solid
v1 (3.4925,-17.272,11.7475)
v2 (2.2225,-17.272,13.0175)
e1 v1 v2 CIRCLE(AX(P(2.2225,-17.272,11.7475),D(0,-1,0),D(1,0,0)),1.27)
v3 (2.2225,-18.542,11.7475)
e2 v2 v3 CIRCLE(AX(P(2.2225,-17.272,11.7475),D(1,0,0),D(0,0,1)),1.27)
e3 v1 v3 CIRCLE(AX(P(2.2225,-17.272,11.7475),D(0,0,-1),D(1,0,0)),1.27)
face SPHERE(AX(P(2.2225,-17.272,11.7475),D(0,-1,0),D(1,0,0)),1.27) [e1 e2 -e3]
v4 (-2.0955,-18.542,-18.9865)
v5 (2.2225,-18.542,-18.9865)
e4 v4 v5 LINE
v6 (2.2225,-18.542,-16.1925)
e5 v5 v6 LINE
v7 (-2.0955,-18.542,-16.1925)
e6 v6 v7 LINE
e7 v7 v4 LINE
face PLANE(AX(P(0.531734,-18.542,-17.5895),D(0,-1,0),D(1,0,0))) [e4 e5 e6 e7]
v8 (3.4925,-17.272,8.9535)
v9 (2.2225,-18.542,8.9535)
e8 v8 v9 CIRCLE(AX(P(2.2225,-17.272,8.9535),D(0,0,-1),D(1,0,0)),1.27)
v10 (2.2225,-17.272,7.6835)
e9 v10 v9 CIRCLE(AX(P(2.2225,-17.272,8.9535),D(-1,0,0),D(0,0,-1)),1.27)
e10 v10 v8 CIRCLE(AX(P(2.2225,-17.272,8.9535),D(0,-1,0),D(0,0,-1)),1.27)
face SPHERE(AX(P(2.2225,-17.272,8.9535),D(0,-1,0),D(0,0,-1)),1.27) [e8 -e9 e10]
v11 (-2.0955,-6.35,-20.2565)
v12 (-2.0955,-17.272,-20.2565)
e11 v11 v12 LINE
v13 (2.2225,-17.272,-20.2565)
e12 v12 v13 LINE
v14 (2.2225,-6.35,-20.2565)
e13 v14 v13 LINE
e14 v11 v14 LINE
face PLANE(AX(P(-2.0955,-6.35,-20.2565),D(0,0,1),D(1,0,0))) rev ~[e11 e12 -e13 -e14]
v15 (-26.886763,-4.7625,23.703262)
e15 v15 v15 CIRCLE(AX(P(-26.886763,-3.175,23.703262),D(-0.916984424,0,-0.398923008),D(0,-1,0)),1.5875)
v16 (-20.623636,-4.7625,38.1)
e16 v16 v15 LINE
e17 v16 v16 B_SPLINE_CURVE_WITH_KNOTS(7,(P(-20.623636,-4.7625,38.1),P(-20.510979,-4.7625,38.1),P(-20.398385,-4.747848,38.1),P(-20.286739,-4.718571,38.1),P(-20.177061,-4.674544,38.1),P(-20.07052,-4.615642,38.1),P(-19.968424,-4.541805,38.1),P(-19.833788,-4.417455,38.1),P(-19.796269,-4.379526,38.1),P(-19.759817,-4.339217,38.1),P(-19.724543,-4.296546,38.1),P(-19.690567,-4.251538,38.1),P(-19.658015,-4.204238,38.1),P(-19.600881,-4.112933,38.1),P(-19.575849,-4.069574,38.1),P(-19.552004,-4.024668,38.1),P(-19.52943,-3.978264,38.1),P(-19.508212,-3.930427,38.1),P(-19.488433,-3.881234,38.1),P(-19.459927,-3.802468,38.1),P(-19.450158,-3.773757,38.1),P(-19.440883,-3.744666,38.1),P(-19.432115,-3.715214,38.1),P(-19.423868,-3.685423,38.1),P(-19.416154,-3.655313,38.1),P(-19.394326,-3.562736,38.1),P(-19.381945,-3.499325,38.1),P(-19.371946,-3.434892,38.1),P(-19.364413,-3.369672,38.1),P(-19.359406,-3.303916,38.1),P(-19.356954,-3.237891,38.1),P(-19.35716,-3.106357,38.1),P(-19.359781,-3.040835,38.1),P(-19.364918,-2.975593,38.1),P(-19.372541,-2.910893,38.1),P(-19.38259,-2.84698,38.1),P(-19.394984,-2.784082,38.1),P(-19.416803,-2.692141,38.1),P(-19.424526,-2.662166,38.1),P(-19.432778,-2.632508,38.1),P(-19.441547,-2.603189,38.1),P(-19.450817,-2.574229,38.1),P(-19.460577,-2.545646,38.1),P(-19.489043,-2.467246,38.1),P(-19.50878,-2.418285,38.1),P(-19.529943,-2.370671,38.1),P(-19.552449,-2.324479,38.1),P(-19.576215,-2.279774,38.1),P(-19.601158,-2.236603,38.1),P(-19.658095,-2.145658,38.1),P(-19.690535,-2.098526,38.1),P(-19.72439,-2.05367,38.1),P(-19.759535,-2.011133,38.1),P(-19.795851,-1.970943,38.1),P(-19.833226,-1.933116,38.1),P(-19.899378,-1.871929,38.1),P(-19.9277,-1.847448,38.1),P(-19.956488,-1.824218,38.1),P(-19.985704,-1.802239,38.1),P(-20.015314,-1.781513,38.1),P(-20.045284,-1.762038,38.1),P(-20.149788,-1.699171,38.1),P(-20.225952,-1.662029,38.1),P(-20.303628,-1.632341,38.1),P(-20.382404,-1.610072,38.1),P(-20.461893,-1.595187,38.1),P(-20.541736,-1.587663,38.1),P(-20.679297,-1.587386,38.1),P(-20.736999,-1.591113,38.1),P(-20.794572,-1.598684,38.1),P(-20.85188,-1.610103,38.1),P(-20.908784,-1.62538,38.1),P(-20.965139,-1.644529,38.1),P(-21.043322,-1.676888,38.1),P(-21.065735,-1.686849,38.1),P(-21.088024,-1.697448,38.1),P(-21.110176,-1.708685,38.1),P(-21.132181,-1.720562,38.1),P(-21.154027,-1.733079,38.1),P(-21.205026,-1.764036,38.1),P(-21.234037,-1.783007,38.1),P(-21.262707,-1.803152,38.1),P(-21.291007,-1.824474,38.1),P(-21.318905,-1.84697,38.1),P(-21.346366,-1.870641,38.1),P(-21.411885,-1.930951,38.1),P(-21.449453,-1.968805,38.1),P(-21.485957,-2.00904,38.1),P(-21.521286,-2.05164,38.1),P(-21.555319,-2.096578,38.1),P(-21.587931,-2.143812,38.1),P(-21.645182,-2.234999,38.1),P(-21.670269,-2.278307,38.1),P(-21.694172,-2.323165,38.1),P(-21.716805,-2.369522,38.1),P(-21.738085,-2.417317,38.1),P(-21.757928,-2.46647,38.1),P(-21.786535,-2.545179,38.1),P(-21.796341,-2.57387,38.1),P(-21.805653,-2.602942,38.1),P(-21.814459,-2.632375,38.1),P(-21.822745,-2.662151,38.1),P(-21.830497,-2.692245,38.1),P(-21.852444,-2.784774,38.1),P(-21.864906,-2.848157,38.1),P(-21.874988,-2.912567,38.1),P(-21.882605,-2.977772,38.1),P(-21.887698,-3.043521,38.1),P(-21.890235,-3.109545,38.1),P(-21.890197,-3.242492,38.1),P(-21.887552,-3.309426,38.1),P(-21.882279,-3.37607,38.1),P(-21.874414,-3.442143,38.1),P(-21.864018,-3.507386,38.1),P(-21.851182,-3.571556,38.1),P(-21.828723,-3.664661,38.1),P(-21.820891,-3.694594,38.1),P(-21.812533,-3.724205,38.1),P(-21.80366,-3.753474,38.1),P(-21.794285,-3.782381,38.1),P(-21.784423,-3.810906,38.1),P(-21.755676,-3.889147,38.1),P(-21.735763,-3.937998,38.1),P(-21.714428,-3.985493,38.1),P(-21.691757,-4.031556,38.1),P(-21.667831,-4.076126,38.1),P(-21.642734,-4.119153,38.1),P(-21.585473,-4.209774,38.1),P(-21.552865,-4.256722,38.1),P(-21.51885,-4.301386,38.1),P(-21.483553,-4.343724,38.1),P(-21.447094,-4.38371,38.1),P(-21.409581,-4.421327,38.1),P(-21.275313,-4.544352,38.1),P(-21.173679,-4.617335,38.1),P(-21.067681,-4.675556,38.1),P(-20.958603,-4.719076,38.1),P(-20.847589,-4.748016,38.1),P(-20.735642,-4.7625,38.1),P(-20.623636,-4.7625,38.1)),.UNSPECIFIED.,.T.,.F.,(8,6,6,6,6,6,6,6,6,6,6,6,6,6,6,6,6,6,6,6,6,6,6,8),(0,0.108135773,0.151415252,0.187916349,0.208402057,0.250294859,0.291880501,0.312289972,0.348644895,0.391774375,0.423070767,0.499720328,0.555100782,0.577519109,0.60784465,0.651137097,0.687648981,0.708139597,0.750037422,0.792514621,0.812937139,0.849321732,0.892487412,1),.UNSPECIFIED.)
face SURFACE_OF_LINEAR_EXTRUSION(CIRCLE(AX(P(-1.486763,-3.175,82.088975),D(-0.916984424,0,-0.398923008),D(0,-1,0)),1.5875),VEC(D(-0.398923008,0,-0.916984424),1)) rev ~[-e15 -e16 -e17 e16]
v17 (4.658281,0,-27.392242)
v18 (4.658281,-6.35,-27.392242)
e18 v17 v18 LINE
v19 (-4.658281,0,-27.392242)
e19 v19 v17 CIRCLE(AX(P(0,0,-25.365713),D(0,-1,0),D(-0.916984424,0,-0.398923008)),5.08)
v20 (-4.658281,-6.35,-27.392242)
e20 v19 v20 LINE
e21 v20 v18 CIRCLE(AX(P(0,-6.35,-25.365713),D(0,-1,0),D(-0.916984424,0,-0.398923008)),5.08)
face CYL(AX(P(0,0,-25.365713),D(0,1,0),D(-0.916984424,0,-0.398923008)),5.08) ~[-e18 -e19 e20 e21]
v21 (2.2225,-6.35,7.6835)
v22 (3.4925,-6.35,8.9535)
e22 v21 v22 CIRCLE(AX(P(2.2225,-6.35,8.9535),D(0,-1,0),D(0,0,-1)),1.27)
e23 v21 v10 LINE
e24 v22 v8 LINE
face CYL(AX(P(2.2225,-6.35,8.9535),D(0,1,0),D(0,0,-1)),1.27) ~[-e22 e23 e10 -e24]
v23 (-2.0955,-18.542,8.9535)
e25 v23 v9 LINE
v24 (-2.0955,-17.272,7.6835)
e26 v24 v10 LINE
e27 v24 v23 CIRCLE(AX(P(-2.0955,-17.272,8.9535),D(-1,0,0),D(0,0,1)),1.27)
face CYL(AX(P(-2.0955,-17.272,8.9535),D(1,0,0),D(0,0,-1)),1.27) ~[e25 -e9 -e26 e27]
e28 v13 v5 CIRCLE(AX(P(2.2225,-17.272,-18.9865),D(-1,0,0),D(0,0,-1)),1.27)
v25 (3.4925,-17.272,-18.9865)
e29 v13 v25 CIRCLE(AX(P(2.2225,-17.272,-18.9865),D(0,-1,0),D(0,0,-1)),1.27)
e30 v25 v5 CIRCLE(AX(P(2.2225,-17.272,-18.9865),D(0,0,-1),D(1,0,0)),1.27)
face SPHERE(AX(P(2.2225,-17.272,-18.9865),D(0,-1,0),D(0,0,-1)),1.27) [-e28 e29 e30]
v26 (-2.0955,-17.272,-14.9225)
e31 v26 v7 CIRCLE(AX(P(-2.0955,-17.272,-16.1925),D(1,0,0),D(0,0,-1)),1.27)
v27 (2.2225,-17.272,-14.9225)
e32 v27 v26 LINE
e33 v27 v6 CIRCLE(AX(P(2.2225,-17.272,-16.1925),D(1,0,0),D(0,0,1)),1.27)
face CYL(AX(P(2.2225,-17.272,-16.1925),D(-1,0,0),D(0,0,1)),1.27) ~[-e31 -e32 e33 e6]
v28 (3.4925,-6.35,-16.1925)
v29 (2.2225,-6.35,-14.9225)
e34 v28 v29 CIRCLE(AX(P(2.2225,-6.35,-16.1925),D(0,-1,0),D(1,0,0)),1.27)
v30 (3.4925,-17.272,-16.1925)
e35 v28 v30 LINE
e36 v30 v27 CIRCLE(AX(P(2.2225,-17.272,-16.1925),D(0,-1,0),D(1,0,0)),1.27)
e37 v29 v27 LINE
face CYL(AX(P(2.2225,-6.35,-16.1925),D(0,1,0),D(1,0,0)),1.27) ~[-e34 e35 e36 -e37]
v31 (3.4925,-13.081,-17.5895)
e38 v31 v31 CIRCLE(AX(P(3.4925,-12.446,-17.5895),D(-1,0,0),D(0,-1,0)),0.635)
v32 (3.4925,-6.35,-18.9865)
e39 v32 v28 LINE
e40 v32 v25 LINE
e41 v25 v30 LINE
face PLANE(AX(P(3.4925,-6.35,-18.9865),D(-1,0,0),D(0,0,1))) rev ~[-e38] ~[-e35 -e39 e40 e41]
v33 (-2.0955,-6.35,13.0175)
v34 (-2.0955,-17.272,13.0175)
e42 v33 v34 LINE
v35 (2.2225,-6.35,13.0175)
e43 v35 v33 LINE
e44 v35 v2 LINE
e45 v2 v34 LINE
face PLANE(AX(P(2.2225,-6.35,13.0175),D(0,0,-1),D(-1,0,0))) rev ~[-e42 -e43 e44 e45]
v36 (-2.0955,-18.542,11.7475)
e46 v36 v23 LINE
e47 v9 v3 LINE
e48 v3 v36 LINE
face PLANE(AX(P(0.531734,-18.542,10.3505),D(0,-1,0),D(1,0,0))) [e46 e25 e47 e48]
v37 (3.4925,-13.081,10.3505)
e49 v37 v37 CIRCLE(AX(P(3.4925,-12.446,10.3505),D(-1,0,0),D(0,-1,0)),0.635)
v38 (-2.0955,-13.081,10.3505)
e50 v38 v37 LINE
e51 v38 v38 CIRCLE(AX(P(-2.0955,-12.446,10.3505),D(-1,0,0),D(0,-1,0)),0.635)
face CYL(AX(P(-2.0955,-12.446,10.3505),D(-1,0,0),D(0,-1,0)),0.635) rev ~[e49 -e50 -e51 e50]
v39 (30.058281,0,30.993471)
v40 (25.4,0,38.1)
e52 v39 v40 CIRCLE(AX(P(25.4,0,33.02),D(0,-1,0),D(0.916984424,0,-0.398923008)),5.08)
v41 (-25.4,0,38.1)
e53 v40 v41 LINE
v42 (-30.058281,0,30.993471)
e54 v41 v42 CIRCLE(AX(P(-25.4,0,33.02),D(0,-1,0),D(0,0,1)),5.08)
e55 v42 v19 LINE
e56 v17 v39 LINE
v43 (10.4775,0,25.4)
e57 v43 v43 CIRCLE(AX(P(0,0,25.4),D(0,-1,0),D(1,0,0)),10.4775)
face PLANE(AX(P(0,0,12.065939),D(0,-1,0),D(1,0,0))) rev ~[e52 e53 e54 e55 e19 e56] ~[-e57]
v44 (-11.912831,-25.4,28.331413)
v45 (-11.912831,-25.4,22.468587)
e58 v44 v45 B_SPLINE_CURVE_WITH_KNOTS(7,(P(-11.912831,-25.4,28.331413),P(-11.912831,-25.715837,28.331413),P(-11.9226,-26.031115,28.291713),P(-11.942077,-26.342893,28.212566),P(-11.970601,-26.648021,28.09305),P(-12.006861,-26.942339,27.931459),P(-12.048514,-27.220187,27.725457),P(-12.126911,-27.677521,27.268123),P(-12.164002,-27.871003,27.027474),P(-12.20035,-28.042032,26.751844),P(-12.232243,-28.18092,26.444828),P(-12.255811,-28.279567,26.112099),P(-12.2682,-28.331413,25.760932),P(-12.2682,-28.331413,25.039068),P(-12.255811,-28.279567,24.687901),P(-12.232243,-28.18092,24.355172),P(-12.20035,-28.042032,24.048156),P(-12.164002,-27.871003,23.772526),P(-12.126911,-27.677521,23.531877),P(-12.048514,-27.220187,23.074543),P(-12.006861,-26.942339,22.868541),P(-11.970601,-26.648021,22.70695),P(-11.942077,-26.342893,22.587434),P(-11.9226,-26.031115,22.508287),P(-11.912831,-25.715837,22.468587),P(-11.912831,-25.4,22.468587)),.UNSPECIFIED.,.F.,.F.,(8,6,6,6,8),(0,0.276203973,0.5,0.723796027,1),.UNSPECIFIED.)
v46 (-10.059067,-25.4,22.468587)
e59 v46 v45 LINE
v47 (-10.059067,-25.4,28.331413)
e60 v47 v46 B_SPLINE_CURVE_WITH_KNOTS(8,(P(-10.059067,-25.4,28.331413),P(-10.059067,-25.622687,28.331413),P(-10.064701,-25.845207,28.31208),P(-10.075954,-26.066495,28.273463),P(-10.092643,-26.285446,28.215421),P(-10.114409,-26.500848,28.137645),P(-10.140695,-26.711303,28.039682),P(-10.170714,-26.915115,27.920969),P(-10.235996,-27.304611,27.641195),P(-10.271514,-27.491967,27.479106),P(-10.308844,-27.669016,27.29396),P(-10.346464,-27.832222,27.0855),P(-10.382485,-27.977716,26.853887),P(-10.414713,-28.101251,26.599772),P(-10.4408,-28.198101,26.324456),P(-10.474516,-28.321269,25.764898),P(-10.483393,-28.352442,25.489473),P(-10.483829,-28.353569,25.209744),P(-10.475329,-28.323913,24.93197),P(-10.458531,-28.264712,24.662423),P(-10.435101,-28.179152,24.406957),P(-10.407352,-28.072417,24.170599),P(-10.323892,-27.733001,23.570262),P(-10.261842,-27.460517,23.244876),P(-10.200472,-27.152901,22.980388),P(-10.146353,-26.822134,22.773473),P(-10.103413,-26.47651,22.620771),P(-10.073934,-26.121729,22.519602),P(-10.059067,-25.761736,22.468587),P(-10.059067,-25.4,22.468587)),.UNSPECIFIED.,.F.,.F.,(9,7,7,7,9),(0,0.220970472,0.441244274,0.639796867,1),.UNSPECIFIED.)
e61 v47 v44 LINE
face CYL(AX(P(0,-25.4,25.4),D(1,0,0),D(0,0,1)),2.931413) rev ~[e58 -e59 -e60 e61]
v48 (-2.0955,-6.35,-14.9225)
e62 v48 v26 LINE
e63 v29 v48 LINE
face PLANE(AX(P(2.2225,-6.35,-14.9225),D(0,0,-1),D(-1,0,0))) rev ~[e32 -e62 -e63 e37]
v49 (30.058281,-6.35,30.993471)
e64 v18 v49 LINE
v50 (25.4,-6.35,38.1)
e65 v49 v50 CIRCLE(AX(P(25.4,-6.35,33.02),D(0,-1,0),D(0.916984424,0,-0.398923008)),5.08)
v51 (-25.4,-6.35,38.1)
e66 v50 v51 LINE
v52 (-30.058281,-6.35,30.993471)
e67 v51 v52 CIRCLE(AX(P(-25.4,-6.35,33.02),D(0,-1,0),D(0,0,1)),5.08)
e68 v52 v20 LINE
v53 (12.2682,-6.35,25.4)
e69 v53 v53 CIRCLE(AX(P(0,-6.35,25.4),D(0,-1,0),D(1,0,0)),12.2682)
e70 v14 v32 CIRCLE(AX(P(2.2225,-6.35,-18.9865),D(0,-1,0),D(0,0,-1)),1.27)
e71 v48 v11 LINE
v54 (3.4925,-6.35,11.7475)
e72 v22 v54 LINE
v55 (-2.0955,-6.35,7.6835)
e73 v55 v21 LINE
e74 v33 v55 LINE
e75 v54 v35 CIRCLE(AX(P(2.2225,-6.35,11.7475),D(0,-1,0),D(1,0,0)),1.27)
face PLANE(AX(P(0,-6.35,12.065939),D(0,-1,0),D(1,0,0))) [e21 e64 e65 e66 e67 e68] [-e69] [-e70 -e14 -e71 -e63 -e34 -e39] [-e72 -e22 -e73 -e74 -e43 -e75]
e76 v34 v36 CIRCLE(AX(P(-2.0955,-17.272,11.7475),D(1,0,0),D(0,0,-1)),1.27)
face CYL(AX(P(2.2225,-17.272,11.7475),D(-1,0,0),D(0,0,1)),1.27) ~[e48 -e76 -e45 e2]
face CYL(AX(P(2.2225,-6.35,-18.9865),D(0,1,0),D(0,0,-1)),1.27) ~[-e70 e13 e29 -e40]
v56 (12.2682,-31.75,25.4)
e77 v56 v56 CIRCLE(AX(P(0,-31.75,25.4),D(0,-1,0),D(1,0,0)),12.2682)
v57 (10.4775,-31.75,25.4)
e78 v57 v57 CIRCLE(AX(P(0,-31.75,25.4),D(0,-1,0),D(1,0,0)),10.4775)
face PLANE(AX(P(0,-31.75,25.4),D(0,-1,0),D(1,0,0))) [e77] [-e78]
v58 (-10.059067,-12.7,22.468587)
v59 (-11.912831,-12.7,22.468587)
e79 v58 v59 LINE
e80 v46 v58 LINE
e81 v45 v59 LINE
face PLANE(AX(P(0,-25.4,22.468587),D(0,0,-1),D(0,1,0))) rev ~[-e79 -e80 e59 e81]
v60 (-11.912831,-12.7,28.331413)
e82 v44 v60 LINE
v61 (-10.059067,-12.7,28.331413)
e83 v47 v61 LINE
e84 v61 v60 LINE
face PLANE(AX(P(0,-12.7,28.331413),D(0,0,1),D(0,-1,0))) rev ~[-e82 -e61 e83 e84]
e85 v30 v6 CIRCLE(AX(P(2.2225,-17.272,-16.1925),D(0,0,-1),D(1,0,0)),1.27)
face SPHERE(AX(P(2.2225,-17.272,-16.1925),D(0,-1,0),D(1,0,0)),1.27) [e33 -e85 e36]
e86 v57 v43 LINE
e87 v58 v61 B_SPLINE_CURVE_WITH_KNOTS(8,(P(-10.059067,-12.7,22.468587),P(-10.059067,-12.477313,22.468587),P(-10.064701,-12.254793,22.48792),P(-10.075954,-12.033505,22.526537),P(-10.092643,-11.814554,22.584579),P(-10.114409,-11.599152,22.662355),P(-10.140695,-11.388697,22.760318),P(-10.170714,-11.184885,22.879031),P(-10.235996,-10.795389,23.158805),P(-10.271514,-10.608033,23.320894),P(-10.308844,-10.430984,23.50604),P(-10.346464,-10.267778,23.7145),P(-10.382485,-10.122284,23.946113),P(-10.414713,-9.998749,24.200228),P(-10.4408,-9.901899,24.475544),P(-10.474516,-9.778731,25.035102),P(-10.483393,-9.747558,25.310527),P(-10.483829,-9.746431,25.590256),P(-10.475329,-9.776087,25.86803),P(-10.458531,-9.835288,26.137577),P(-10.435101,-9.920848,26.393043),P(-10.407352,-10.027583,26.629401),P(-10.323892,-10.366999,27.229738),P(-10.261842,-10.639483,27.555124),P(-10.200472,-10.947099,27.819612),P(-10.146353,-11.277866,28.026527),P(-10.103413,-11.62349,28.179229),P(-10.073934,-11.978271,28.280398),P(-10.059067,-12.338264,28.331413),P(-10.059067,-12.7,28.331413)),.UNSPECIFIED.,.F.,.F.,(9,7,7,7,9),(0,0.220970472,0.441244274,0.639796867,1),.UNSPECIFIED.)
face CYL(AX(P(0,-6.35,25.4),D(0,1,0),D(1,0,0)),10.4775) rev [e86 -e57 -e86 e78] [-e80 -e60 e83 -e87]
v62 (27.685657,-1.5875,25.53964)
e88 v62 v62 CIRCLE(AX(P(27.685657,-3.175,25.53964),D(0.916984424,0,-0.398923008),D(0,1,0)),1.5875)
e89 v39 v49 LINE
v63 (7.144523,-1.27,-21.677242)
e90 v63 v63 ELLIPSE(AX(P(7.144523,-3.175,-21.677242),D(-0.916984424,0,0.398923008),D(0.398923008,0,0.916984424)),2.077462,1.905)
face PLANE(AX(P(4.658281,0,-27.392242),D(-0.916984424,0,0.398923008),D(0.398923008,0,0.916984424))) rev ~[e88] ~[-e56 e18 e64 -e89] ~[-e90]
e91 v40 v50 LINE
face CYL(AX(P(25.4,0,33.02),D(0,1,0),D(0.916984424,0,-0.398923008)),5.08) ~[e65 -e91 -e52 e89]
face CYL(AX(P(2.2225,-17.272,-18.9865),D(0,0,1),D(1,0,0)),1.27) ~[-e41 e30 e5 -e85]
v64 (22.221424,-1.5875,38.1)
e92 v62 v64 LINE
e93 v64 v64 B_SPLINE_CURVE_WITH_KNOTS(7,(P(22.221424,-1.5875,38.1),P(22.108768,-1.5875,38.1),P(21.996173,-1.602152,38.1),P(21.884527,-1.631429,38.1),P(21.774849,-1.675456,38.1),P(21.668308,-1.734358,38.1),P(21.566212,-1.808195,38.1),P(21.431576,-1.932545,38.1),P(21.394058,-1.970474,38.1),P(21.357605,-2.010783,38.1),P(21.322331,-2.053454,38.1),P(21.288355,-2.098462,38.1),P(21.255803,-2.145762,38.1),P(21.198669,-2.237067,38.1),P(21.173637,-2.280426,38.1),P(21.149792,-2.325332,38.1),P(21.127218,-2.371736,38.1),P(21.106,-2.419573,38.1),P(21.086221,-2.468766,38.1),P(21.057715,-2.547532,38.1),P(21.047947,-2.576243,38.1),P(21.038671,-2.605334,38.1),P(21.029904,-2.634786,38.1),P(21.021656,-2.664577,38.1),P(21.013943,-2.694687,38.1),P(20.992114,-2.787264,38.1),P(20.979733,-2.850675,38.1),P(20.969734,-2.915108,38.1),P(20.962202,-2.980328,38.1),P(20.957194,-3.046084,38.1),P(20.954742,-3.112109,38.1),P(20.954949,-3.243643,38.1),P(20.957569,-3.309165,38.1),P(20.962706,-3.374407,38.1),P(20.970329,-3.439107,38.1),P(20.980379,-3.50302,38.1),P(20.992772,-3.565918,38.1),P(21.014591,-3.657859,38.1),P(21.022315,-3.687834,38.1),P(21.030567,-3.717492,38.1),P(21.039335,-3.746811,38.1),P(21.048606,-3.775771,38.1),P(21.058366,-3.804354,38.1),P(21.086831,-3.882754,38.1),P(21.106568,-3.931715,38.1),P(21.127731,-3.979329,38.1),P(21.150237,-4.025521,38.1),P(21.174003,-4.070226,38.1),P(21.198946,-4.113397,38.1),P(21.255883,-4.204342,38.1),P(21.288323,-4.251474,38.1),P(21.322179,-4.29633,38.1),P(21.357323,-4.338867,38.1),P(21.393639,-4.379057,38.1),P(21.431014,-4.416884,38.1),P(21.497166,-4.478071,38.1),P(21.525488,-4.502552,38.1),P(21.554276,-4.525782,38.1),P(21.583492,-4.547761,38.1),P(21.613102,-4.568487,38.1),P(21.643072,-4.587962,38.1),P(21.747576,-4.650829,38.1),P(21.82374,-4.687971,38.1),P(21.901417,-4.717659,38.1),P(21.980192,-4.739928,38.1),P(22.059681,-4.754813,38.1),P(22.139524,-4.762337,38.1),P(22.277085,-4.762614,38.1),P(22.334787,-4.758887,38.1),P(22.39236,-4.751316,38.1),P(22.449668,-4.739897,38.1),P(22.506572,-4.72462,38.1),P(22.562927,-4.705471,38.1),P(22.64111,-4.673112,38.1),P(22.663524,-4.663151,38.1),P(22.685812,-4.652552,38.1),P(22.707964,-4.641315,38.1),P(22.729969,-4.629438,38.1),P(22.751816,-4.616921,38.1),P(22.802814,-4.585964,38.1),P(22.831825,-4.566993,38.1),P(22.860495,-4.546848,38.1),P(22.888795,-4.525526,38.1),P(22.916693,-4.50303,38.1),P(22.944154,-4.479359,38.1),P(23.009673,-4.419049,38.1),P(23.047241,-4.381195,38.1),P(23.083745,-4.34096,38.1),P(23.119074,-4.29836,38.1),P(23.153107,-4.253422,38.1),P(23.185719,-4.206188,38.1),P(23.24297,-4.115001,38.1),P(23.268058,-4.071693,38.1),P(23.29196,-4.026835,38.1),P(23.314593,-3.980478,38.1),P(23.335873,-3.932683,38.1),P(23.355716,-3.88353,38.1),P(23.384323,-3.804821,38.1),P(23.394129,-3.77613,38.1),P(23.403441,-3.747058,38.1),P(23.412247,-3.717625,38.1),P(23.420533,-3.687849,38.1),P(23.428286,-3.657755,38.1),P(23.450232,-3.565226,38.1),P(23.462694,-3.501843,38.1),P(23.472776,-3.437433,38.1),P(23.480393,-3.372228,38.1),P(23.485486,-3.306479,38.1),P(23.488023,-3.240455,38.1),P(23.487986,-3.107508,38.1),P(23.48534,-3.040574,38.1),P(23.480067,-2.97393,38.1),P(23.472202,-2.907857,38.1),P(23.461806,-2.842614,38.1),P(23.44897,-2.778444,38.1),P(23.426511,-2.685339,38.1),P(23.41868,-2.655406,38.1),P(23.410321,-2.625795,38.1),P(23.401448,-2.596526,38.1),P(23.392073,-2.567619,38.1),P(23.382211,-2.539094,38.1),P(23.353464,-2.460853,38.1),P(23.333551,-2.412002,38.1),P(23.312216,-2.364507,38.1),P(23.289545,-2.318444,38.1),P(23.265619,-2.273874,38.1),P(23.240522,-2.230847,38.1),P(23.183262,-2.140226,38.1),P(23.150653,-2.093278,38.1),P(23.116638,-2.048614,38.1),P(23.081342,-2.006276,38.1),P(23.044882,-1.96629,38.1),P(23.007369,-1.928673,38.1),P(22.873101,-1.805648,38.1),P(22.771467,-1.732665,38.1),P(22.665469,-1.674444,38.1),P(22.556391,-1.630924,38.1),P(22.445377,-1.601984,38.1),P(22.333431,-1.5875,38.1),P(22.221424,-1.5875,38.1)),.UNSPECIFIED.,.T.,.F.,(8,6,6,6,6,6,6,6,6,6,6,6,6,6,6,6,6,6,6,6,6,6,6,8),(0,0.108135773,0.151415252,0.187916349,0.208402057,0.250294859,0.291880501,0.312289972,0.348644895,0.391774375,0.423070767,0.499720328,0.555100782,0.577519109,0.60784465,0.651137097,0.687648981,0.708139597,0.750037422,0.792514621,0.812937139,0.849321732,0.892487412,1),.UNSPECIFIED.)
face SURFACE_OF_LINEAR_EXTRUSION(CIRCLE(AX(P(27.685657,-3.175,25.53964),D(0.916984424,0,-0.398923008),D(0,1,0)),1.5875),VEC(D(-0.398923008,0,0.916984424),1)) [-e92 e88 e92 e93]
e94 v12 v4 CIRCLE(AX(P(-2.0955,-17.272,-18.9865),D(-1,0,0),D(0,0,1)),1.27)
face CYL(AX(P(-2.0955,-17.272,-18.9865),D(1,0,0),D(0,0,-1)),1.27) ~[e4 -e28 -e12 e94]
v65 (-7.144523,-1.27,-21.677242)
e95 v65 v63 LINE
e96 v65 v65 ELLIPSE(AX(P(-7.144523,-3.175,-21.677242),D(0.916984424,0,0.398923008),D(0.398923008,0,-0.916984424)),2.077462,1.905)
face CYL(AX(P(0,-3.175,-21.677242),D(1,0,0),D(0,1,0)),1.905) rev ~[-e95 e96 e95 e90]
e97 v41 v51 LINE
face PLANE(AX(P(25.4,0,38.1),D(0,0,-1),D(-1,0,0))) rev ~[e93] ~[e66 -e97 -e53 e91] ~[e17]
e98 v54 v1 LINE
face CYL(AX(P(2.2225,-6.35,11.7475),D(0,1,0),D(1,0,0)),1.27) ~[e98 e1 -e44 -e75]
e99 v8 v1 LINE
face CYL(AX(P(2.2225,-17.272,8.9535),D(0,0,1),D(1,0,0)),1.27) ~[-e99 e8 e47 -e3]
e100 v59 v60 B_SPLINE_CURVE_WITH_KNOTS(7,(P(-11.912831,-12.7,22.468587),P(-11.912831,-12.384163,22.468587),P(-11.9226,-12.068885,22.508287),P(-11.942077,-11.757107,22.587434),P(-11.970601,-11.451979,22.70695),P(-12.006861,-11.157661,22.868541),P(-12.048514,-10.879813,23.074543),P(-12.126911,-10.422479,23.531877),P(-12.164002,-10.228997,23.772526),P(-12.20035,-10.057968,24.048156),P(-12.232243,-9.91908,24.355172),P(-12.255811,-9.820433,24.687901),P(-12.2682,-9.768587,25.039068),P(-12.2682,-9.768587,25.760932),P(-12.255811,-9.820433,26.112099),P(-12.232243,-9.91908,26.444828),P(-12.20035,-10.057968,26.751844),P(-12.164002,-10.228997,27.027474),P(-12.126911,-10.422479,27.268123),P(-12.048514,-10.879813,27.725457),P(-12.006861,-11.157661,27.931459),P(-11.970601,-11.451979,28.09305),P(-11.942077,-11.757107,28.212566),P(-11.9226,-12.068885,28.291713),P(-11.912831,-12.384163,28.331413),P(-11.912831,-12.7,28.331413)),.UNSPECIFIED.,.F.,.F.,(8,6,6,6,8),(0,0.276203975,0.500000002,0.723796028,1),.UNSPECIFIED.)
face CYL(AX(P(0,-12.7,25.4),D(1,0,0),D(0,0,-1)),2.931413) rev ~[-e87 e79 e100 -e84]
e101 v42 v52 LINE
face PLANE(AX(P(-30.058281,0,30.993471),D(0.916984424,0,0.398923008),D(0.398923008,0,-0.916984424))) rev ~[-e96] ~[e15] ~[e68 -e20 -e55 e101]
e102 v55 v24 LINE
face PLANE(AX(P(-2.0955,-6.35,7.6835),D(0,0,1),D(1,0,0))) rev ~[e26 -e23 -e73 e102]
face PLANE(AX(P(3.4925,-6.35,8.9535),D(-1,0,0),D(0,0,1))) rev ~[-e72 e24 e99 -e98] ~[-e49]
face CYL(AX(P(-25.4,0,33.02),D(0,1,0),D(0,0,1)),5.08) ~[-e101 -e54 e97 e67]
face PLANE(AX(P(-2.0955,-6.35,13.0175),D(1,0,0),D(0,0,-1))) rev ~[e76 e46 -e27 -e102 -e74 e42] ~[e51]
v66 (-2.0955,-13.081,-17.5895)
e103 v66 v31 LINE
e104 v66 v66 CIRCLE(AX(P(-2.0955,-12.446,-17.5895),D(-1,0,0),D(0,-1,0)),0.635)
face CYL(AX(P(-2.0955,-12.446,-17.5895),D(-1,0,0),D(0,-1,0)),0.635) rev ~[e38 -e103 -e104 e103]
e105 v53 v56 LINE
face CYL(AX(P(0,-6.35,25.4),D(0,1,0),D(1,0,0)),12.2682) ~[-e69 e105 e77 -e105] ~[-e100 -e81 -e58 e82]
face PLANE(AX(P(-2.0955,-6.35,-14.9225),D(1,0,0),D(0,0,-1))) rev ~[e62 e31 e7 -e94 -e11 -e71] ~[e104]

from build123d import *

# Parameters (mm, degrees)
F0_R      = 10.4775
F1_DEPTH  = 6.35
F2_R      = 1.905
F3_DEPTH  = 9.0678
F5_DEPTH  = 12.192
F6_R      = 0.635
F7_R      = 0.635
F8_DEPTH  = 32.5765
F9_R      = 1.27
F10_R     = 12.2682
F10_R_2   = 10.4775
F11_DEPTH = 25.4
F13_DEPTH = 12.7
F14_R     = 1.5875
F16_R     = 1.5875


with BuildPart() as f1:
    # F0 (on Front) → F1 (new body)
    with BuildSketch(Plane.XZ):
        with BuildLine():
            ThreePointArc((-4.6582808724, -27.3922420853), (0, -30.4457132023), (4.6582808724, -27.3922420853))
            Line((4.6582808724, -27.3922420853), (30.0582808724, 30.993471117))
            ThreePointArc((30.0582808724, 30.993471117), (29.6485978114, 35.8049266843), (25.4, 38.1))
            Line((25.4, 38.1), (0, 38.1))
            Line((0, 38.1), (-25.4, 38.1))
            ThreePointArc((-25.4, 38.1), (-29.6485978114, 35.8049266843), (-30.0582808724, 30.993471117))
            Line((-30.0582808724, 30.993471117), (-4.6582808724, -27.3922420853))
        make_face()
        with Locations((0, 25.4)):
            Circle(F0_R, mode=Mode.SUBTRACT)
    extrude(amount=F1_DEPTH)

    # F2 (on Right) → F3 (cut, symmetric)
    with BuildSketch(Plane.YZ):
        with Locations((-3.175, -21.6772420853)):
            Circle(F2_R)
    extrude(amount=F3_DEPTH, both=True, mode=Mode.SUBTRACT)

    # F4 (on face) → F5 (join)
    with BuildSketch(Plane.XZ.offset(6.35)):
        with BuildLine():
            Line((2.2225, 13.0175), (-2.0955, 13.0175))
            Line((-2.0955, 13.0175), (-2.0955, 7.6835))
            Line((-2.0955, 7.6835), (2.2225, 7.6835))
            ThreePointArc((2.2225, 7.6835), (3.1205256121, 8.0554743879), (3.4925, 8.9535))
            Line((3.4925, 8.9535), (3.4925, 11.7475))
            ThreePointArc((3.4925, 11.7475), (3.1205256121, 12.6455256121), (2.2225, 13.0175))
        make_face()
        with BuildLine():
            Line((2.2225, -14.9225), (-2.0955, -14.9225))
            Line((-2.0955, -14.9225), (-2.0955, -20.2565))
            Line((-2.0955, -20.2565), (2.2225, -20.2565))
            ThreePointArc((2.2225, -20.2565), (3.1205256121, -19.8845256121), (3.4925, -18.9865))
            Line((3.4925, -18.9865), (3.4925, -16.1925))
            ThreePointArc((3.4925, -16.1925), (3.1205256121, -15.2944743879), (2.2225, -14.9225))
        make_face()
    extrude(amount=F5_DEPTH)

    # F6 (on face) + F7 (on face) → F8 (cut, through all)
    with BuildSketch(Plane(origin=(-2.0955, 0, 0), x_dir=(0, -1, 0), z_dir=(-1, 0, 0))):
        with Locations((12.446, -17.5895)):
            Circle(F6_R)
    with BuildSketch(Plane(origin=(-2.0955, 0, 0), x_dir=(0, -1, 0), z_dir=(-1, 0, 0))):
        with Locations((12.446, 10.3505)):
            Circle(F7_R)
    extrude(amount=-F8_DEPTH, mode=Mode.SUBTRACT)

    # F9
    f9_edges = [f1.edges().sort_by_distance(p)[0] for p in [
        (0.0635, -18.542, 13.0175),
        (3.120526, -18.542, 12.645526),
        (3.4925, -18.542, 10.3505),
        (3.120526, -18.542, 8.055474),
        (0.0635, -18.542, 7.6835),
        (0.0635, -18.542, -20.2565),
        (3.4925, -18.542, -17.5895),
        (3.120526, -18.542, -15.294474),
        (0.0635, -18.542, -14.9225),
    ]]
    fillet(f9_edges, radius=F9_R)

    # F10 (on face) → F11 (join)
    with BuildSketch(Plane.XZ.offset(6.35)):
        with Locations((0, 25.4)):
            Circle(F10_R)
        with Locations((0, 25.4)):
            Circle(F10_R_2, mode=Mode.SUBTRACT)
    extrude(amount=F11_DEPTH)

    # F12 (on Right) → F13 (cut)
    with BuildSketch(Plane.YZ):
        with BuildLine():
            Line((-25.4, 22.4685867739), (-12.7, 22.4685867739))
            ThreePointArc((-12.7, 22.4685867739), (-9.7685867739, 25.4), (-12.7, 28.3314132261))
            Line((-12.7, 28.3314132261), (-25.4, 28.3314132261))
            ThreePointArc((-25.4, 28.3314132261), (-28.3314132261, 25.4), (-25.4, 22.4685867739))
        make_face()
    extrude(amount=-F13_DEPTH, mode=Mode.SUBTRACT)

    # F15: sweep along a path in F15_path
    with BuildLine(Plane(origin=(30.0582808724, -6.35, 30.993471117), x_dir=(0.3989230085, 0, 0.9169844237), z_dir=(0.9169844237, 0, -0.3989230085))) as f15_path:
        Line((0, 0), (-63.6714339884, 0))
    # F14 (on face) → F15 (sweep, cut)
    with BuildSketch(Plane(origin=(-13.9372156493, 0, -6.0632174906), x_dir=(0, -1, 0), z_dir=(-0.9169844237, 0, -0.3989230085))):
        with Locations((3.175, 32.4612700858)):
            Circle(F14_R)
    sweep(path=f15_path.line, mode=Mode.SUBTRACT)

    # F17: sweep along a path in F17_path
    with BuildLine(Plane(origin=(-4.6582808724, -6.35, -27.3922420853), x_dir=(0.3989230085, 0, -0.9169844237), z_dir=(-0.9169844237, 0, -0.3989230085))) as f17_path:
        Line((0, 0), (-63.6714339884, 0))
    # F16 (on face) → F17 (sweep, cut)
    with BuildSketch(Plane(origin=(13.9372156493, 0, -6.0632174906), x_dir=(0, 1, 0), z_dir=(0.9169844237, 0, -0.3989230085))):
        with Locations((-3.175, 34.4638973475)):
            Circle(F16_R)
    sweep(path=f17_path.line, mode=Mode.SUBTRACT)


solid = f1.part
